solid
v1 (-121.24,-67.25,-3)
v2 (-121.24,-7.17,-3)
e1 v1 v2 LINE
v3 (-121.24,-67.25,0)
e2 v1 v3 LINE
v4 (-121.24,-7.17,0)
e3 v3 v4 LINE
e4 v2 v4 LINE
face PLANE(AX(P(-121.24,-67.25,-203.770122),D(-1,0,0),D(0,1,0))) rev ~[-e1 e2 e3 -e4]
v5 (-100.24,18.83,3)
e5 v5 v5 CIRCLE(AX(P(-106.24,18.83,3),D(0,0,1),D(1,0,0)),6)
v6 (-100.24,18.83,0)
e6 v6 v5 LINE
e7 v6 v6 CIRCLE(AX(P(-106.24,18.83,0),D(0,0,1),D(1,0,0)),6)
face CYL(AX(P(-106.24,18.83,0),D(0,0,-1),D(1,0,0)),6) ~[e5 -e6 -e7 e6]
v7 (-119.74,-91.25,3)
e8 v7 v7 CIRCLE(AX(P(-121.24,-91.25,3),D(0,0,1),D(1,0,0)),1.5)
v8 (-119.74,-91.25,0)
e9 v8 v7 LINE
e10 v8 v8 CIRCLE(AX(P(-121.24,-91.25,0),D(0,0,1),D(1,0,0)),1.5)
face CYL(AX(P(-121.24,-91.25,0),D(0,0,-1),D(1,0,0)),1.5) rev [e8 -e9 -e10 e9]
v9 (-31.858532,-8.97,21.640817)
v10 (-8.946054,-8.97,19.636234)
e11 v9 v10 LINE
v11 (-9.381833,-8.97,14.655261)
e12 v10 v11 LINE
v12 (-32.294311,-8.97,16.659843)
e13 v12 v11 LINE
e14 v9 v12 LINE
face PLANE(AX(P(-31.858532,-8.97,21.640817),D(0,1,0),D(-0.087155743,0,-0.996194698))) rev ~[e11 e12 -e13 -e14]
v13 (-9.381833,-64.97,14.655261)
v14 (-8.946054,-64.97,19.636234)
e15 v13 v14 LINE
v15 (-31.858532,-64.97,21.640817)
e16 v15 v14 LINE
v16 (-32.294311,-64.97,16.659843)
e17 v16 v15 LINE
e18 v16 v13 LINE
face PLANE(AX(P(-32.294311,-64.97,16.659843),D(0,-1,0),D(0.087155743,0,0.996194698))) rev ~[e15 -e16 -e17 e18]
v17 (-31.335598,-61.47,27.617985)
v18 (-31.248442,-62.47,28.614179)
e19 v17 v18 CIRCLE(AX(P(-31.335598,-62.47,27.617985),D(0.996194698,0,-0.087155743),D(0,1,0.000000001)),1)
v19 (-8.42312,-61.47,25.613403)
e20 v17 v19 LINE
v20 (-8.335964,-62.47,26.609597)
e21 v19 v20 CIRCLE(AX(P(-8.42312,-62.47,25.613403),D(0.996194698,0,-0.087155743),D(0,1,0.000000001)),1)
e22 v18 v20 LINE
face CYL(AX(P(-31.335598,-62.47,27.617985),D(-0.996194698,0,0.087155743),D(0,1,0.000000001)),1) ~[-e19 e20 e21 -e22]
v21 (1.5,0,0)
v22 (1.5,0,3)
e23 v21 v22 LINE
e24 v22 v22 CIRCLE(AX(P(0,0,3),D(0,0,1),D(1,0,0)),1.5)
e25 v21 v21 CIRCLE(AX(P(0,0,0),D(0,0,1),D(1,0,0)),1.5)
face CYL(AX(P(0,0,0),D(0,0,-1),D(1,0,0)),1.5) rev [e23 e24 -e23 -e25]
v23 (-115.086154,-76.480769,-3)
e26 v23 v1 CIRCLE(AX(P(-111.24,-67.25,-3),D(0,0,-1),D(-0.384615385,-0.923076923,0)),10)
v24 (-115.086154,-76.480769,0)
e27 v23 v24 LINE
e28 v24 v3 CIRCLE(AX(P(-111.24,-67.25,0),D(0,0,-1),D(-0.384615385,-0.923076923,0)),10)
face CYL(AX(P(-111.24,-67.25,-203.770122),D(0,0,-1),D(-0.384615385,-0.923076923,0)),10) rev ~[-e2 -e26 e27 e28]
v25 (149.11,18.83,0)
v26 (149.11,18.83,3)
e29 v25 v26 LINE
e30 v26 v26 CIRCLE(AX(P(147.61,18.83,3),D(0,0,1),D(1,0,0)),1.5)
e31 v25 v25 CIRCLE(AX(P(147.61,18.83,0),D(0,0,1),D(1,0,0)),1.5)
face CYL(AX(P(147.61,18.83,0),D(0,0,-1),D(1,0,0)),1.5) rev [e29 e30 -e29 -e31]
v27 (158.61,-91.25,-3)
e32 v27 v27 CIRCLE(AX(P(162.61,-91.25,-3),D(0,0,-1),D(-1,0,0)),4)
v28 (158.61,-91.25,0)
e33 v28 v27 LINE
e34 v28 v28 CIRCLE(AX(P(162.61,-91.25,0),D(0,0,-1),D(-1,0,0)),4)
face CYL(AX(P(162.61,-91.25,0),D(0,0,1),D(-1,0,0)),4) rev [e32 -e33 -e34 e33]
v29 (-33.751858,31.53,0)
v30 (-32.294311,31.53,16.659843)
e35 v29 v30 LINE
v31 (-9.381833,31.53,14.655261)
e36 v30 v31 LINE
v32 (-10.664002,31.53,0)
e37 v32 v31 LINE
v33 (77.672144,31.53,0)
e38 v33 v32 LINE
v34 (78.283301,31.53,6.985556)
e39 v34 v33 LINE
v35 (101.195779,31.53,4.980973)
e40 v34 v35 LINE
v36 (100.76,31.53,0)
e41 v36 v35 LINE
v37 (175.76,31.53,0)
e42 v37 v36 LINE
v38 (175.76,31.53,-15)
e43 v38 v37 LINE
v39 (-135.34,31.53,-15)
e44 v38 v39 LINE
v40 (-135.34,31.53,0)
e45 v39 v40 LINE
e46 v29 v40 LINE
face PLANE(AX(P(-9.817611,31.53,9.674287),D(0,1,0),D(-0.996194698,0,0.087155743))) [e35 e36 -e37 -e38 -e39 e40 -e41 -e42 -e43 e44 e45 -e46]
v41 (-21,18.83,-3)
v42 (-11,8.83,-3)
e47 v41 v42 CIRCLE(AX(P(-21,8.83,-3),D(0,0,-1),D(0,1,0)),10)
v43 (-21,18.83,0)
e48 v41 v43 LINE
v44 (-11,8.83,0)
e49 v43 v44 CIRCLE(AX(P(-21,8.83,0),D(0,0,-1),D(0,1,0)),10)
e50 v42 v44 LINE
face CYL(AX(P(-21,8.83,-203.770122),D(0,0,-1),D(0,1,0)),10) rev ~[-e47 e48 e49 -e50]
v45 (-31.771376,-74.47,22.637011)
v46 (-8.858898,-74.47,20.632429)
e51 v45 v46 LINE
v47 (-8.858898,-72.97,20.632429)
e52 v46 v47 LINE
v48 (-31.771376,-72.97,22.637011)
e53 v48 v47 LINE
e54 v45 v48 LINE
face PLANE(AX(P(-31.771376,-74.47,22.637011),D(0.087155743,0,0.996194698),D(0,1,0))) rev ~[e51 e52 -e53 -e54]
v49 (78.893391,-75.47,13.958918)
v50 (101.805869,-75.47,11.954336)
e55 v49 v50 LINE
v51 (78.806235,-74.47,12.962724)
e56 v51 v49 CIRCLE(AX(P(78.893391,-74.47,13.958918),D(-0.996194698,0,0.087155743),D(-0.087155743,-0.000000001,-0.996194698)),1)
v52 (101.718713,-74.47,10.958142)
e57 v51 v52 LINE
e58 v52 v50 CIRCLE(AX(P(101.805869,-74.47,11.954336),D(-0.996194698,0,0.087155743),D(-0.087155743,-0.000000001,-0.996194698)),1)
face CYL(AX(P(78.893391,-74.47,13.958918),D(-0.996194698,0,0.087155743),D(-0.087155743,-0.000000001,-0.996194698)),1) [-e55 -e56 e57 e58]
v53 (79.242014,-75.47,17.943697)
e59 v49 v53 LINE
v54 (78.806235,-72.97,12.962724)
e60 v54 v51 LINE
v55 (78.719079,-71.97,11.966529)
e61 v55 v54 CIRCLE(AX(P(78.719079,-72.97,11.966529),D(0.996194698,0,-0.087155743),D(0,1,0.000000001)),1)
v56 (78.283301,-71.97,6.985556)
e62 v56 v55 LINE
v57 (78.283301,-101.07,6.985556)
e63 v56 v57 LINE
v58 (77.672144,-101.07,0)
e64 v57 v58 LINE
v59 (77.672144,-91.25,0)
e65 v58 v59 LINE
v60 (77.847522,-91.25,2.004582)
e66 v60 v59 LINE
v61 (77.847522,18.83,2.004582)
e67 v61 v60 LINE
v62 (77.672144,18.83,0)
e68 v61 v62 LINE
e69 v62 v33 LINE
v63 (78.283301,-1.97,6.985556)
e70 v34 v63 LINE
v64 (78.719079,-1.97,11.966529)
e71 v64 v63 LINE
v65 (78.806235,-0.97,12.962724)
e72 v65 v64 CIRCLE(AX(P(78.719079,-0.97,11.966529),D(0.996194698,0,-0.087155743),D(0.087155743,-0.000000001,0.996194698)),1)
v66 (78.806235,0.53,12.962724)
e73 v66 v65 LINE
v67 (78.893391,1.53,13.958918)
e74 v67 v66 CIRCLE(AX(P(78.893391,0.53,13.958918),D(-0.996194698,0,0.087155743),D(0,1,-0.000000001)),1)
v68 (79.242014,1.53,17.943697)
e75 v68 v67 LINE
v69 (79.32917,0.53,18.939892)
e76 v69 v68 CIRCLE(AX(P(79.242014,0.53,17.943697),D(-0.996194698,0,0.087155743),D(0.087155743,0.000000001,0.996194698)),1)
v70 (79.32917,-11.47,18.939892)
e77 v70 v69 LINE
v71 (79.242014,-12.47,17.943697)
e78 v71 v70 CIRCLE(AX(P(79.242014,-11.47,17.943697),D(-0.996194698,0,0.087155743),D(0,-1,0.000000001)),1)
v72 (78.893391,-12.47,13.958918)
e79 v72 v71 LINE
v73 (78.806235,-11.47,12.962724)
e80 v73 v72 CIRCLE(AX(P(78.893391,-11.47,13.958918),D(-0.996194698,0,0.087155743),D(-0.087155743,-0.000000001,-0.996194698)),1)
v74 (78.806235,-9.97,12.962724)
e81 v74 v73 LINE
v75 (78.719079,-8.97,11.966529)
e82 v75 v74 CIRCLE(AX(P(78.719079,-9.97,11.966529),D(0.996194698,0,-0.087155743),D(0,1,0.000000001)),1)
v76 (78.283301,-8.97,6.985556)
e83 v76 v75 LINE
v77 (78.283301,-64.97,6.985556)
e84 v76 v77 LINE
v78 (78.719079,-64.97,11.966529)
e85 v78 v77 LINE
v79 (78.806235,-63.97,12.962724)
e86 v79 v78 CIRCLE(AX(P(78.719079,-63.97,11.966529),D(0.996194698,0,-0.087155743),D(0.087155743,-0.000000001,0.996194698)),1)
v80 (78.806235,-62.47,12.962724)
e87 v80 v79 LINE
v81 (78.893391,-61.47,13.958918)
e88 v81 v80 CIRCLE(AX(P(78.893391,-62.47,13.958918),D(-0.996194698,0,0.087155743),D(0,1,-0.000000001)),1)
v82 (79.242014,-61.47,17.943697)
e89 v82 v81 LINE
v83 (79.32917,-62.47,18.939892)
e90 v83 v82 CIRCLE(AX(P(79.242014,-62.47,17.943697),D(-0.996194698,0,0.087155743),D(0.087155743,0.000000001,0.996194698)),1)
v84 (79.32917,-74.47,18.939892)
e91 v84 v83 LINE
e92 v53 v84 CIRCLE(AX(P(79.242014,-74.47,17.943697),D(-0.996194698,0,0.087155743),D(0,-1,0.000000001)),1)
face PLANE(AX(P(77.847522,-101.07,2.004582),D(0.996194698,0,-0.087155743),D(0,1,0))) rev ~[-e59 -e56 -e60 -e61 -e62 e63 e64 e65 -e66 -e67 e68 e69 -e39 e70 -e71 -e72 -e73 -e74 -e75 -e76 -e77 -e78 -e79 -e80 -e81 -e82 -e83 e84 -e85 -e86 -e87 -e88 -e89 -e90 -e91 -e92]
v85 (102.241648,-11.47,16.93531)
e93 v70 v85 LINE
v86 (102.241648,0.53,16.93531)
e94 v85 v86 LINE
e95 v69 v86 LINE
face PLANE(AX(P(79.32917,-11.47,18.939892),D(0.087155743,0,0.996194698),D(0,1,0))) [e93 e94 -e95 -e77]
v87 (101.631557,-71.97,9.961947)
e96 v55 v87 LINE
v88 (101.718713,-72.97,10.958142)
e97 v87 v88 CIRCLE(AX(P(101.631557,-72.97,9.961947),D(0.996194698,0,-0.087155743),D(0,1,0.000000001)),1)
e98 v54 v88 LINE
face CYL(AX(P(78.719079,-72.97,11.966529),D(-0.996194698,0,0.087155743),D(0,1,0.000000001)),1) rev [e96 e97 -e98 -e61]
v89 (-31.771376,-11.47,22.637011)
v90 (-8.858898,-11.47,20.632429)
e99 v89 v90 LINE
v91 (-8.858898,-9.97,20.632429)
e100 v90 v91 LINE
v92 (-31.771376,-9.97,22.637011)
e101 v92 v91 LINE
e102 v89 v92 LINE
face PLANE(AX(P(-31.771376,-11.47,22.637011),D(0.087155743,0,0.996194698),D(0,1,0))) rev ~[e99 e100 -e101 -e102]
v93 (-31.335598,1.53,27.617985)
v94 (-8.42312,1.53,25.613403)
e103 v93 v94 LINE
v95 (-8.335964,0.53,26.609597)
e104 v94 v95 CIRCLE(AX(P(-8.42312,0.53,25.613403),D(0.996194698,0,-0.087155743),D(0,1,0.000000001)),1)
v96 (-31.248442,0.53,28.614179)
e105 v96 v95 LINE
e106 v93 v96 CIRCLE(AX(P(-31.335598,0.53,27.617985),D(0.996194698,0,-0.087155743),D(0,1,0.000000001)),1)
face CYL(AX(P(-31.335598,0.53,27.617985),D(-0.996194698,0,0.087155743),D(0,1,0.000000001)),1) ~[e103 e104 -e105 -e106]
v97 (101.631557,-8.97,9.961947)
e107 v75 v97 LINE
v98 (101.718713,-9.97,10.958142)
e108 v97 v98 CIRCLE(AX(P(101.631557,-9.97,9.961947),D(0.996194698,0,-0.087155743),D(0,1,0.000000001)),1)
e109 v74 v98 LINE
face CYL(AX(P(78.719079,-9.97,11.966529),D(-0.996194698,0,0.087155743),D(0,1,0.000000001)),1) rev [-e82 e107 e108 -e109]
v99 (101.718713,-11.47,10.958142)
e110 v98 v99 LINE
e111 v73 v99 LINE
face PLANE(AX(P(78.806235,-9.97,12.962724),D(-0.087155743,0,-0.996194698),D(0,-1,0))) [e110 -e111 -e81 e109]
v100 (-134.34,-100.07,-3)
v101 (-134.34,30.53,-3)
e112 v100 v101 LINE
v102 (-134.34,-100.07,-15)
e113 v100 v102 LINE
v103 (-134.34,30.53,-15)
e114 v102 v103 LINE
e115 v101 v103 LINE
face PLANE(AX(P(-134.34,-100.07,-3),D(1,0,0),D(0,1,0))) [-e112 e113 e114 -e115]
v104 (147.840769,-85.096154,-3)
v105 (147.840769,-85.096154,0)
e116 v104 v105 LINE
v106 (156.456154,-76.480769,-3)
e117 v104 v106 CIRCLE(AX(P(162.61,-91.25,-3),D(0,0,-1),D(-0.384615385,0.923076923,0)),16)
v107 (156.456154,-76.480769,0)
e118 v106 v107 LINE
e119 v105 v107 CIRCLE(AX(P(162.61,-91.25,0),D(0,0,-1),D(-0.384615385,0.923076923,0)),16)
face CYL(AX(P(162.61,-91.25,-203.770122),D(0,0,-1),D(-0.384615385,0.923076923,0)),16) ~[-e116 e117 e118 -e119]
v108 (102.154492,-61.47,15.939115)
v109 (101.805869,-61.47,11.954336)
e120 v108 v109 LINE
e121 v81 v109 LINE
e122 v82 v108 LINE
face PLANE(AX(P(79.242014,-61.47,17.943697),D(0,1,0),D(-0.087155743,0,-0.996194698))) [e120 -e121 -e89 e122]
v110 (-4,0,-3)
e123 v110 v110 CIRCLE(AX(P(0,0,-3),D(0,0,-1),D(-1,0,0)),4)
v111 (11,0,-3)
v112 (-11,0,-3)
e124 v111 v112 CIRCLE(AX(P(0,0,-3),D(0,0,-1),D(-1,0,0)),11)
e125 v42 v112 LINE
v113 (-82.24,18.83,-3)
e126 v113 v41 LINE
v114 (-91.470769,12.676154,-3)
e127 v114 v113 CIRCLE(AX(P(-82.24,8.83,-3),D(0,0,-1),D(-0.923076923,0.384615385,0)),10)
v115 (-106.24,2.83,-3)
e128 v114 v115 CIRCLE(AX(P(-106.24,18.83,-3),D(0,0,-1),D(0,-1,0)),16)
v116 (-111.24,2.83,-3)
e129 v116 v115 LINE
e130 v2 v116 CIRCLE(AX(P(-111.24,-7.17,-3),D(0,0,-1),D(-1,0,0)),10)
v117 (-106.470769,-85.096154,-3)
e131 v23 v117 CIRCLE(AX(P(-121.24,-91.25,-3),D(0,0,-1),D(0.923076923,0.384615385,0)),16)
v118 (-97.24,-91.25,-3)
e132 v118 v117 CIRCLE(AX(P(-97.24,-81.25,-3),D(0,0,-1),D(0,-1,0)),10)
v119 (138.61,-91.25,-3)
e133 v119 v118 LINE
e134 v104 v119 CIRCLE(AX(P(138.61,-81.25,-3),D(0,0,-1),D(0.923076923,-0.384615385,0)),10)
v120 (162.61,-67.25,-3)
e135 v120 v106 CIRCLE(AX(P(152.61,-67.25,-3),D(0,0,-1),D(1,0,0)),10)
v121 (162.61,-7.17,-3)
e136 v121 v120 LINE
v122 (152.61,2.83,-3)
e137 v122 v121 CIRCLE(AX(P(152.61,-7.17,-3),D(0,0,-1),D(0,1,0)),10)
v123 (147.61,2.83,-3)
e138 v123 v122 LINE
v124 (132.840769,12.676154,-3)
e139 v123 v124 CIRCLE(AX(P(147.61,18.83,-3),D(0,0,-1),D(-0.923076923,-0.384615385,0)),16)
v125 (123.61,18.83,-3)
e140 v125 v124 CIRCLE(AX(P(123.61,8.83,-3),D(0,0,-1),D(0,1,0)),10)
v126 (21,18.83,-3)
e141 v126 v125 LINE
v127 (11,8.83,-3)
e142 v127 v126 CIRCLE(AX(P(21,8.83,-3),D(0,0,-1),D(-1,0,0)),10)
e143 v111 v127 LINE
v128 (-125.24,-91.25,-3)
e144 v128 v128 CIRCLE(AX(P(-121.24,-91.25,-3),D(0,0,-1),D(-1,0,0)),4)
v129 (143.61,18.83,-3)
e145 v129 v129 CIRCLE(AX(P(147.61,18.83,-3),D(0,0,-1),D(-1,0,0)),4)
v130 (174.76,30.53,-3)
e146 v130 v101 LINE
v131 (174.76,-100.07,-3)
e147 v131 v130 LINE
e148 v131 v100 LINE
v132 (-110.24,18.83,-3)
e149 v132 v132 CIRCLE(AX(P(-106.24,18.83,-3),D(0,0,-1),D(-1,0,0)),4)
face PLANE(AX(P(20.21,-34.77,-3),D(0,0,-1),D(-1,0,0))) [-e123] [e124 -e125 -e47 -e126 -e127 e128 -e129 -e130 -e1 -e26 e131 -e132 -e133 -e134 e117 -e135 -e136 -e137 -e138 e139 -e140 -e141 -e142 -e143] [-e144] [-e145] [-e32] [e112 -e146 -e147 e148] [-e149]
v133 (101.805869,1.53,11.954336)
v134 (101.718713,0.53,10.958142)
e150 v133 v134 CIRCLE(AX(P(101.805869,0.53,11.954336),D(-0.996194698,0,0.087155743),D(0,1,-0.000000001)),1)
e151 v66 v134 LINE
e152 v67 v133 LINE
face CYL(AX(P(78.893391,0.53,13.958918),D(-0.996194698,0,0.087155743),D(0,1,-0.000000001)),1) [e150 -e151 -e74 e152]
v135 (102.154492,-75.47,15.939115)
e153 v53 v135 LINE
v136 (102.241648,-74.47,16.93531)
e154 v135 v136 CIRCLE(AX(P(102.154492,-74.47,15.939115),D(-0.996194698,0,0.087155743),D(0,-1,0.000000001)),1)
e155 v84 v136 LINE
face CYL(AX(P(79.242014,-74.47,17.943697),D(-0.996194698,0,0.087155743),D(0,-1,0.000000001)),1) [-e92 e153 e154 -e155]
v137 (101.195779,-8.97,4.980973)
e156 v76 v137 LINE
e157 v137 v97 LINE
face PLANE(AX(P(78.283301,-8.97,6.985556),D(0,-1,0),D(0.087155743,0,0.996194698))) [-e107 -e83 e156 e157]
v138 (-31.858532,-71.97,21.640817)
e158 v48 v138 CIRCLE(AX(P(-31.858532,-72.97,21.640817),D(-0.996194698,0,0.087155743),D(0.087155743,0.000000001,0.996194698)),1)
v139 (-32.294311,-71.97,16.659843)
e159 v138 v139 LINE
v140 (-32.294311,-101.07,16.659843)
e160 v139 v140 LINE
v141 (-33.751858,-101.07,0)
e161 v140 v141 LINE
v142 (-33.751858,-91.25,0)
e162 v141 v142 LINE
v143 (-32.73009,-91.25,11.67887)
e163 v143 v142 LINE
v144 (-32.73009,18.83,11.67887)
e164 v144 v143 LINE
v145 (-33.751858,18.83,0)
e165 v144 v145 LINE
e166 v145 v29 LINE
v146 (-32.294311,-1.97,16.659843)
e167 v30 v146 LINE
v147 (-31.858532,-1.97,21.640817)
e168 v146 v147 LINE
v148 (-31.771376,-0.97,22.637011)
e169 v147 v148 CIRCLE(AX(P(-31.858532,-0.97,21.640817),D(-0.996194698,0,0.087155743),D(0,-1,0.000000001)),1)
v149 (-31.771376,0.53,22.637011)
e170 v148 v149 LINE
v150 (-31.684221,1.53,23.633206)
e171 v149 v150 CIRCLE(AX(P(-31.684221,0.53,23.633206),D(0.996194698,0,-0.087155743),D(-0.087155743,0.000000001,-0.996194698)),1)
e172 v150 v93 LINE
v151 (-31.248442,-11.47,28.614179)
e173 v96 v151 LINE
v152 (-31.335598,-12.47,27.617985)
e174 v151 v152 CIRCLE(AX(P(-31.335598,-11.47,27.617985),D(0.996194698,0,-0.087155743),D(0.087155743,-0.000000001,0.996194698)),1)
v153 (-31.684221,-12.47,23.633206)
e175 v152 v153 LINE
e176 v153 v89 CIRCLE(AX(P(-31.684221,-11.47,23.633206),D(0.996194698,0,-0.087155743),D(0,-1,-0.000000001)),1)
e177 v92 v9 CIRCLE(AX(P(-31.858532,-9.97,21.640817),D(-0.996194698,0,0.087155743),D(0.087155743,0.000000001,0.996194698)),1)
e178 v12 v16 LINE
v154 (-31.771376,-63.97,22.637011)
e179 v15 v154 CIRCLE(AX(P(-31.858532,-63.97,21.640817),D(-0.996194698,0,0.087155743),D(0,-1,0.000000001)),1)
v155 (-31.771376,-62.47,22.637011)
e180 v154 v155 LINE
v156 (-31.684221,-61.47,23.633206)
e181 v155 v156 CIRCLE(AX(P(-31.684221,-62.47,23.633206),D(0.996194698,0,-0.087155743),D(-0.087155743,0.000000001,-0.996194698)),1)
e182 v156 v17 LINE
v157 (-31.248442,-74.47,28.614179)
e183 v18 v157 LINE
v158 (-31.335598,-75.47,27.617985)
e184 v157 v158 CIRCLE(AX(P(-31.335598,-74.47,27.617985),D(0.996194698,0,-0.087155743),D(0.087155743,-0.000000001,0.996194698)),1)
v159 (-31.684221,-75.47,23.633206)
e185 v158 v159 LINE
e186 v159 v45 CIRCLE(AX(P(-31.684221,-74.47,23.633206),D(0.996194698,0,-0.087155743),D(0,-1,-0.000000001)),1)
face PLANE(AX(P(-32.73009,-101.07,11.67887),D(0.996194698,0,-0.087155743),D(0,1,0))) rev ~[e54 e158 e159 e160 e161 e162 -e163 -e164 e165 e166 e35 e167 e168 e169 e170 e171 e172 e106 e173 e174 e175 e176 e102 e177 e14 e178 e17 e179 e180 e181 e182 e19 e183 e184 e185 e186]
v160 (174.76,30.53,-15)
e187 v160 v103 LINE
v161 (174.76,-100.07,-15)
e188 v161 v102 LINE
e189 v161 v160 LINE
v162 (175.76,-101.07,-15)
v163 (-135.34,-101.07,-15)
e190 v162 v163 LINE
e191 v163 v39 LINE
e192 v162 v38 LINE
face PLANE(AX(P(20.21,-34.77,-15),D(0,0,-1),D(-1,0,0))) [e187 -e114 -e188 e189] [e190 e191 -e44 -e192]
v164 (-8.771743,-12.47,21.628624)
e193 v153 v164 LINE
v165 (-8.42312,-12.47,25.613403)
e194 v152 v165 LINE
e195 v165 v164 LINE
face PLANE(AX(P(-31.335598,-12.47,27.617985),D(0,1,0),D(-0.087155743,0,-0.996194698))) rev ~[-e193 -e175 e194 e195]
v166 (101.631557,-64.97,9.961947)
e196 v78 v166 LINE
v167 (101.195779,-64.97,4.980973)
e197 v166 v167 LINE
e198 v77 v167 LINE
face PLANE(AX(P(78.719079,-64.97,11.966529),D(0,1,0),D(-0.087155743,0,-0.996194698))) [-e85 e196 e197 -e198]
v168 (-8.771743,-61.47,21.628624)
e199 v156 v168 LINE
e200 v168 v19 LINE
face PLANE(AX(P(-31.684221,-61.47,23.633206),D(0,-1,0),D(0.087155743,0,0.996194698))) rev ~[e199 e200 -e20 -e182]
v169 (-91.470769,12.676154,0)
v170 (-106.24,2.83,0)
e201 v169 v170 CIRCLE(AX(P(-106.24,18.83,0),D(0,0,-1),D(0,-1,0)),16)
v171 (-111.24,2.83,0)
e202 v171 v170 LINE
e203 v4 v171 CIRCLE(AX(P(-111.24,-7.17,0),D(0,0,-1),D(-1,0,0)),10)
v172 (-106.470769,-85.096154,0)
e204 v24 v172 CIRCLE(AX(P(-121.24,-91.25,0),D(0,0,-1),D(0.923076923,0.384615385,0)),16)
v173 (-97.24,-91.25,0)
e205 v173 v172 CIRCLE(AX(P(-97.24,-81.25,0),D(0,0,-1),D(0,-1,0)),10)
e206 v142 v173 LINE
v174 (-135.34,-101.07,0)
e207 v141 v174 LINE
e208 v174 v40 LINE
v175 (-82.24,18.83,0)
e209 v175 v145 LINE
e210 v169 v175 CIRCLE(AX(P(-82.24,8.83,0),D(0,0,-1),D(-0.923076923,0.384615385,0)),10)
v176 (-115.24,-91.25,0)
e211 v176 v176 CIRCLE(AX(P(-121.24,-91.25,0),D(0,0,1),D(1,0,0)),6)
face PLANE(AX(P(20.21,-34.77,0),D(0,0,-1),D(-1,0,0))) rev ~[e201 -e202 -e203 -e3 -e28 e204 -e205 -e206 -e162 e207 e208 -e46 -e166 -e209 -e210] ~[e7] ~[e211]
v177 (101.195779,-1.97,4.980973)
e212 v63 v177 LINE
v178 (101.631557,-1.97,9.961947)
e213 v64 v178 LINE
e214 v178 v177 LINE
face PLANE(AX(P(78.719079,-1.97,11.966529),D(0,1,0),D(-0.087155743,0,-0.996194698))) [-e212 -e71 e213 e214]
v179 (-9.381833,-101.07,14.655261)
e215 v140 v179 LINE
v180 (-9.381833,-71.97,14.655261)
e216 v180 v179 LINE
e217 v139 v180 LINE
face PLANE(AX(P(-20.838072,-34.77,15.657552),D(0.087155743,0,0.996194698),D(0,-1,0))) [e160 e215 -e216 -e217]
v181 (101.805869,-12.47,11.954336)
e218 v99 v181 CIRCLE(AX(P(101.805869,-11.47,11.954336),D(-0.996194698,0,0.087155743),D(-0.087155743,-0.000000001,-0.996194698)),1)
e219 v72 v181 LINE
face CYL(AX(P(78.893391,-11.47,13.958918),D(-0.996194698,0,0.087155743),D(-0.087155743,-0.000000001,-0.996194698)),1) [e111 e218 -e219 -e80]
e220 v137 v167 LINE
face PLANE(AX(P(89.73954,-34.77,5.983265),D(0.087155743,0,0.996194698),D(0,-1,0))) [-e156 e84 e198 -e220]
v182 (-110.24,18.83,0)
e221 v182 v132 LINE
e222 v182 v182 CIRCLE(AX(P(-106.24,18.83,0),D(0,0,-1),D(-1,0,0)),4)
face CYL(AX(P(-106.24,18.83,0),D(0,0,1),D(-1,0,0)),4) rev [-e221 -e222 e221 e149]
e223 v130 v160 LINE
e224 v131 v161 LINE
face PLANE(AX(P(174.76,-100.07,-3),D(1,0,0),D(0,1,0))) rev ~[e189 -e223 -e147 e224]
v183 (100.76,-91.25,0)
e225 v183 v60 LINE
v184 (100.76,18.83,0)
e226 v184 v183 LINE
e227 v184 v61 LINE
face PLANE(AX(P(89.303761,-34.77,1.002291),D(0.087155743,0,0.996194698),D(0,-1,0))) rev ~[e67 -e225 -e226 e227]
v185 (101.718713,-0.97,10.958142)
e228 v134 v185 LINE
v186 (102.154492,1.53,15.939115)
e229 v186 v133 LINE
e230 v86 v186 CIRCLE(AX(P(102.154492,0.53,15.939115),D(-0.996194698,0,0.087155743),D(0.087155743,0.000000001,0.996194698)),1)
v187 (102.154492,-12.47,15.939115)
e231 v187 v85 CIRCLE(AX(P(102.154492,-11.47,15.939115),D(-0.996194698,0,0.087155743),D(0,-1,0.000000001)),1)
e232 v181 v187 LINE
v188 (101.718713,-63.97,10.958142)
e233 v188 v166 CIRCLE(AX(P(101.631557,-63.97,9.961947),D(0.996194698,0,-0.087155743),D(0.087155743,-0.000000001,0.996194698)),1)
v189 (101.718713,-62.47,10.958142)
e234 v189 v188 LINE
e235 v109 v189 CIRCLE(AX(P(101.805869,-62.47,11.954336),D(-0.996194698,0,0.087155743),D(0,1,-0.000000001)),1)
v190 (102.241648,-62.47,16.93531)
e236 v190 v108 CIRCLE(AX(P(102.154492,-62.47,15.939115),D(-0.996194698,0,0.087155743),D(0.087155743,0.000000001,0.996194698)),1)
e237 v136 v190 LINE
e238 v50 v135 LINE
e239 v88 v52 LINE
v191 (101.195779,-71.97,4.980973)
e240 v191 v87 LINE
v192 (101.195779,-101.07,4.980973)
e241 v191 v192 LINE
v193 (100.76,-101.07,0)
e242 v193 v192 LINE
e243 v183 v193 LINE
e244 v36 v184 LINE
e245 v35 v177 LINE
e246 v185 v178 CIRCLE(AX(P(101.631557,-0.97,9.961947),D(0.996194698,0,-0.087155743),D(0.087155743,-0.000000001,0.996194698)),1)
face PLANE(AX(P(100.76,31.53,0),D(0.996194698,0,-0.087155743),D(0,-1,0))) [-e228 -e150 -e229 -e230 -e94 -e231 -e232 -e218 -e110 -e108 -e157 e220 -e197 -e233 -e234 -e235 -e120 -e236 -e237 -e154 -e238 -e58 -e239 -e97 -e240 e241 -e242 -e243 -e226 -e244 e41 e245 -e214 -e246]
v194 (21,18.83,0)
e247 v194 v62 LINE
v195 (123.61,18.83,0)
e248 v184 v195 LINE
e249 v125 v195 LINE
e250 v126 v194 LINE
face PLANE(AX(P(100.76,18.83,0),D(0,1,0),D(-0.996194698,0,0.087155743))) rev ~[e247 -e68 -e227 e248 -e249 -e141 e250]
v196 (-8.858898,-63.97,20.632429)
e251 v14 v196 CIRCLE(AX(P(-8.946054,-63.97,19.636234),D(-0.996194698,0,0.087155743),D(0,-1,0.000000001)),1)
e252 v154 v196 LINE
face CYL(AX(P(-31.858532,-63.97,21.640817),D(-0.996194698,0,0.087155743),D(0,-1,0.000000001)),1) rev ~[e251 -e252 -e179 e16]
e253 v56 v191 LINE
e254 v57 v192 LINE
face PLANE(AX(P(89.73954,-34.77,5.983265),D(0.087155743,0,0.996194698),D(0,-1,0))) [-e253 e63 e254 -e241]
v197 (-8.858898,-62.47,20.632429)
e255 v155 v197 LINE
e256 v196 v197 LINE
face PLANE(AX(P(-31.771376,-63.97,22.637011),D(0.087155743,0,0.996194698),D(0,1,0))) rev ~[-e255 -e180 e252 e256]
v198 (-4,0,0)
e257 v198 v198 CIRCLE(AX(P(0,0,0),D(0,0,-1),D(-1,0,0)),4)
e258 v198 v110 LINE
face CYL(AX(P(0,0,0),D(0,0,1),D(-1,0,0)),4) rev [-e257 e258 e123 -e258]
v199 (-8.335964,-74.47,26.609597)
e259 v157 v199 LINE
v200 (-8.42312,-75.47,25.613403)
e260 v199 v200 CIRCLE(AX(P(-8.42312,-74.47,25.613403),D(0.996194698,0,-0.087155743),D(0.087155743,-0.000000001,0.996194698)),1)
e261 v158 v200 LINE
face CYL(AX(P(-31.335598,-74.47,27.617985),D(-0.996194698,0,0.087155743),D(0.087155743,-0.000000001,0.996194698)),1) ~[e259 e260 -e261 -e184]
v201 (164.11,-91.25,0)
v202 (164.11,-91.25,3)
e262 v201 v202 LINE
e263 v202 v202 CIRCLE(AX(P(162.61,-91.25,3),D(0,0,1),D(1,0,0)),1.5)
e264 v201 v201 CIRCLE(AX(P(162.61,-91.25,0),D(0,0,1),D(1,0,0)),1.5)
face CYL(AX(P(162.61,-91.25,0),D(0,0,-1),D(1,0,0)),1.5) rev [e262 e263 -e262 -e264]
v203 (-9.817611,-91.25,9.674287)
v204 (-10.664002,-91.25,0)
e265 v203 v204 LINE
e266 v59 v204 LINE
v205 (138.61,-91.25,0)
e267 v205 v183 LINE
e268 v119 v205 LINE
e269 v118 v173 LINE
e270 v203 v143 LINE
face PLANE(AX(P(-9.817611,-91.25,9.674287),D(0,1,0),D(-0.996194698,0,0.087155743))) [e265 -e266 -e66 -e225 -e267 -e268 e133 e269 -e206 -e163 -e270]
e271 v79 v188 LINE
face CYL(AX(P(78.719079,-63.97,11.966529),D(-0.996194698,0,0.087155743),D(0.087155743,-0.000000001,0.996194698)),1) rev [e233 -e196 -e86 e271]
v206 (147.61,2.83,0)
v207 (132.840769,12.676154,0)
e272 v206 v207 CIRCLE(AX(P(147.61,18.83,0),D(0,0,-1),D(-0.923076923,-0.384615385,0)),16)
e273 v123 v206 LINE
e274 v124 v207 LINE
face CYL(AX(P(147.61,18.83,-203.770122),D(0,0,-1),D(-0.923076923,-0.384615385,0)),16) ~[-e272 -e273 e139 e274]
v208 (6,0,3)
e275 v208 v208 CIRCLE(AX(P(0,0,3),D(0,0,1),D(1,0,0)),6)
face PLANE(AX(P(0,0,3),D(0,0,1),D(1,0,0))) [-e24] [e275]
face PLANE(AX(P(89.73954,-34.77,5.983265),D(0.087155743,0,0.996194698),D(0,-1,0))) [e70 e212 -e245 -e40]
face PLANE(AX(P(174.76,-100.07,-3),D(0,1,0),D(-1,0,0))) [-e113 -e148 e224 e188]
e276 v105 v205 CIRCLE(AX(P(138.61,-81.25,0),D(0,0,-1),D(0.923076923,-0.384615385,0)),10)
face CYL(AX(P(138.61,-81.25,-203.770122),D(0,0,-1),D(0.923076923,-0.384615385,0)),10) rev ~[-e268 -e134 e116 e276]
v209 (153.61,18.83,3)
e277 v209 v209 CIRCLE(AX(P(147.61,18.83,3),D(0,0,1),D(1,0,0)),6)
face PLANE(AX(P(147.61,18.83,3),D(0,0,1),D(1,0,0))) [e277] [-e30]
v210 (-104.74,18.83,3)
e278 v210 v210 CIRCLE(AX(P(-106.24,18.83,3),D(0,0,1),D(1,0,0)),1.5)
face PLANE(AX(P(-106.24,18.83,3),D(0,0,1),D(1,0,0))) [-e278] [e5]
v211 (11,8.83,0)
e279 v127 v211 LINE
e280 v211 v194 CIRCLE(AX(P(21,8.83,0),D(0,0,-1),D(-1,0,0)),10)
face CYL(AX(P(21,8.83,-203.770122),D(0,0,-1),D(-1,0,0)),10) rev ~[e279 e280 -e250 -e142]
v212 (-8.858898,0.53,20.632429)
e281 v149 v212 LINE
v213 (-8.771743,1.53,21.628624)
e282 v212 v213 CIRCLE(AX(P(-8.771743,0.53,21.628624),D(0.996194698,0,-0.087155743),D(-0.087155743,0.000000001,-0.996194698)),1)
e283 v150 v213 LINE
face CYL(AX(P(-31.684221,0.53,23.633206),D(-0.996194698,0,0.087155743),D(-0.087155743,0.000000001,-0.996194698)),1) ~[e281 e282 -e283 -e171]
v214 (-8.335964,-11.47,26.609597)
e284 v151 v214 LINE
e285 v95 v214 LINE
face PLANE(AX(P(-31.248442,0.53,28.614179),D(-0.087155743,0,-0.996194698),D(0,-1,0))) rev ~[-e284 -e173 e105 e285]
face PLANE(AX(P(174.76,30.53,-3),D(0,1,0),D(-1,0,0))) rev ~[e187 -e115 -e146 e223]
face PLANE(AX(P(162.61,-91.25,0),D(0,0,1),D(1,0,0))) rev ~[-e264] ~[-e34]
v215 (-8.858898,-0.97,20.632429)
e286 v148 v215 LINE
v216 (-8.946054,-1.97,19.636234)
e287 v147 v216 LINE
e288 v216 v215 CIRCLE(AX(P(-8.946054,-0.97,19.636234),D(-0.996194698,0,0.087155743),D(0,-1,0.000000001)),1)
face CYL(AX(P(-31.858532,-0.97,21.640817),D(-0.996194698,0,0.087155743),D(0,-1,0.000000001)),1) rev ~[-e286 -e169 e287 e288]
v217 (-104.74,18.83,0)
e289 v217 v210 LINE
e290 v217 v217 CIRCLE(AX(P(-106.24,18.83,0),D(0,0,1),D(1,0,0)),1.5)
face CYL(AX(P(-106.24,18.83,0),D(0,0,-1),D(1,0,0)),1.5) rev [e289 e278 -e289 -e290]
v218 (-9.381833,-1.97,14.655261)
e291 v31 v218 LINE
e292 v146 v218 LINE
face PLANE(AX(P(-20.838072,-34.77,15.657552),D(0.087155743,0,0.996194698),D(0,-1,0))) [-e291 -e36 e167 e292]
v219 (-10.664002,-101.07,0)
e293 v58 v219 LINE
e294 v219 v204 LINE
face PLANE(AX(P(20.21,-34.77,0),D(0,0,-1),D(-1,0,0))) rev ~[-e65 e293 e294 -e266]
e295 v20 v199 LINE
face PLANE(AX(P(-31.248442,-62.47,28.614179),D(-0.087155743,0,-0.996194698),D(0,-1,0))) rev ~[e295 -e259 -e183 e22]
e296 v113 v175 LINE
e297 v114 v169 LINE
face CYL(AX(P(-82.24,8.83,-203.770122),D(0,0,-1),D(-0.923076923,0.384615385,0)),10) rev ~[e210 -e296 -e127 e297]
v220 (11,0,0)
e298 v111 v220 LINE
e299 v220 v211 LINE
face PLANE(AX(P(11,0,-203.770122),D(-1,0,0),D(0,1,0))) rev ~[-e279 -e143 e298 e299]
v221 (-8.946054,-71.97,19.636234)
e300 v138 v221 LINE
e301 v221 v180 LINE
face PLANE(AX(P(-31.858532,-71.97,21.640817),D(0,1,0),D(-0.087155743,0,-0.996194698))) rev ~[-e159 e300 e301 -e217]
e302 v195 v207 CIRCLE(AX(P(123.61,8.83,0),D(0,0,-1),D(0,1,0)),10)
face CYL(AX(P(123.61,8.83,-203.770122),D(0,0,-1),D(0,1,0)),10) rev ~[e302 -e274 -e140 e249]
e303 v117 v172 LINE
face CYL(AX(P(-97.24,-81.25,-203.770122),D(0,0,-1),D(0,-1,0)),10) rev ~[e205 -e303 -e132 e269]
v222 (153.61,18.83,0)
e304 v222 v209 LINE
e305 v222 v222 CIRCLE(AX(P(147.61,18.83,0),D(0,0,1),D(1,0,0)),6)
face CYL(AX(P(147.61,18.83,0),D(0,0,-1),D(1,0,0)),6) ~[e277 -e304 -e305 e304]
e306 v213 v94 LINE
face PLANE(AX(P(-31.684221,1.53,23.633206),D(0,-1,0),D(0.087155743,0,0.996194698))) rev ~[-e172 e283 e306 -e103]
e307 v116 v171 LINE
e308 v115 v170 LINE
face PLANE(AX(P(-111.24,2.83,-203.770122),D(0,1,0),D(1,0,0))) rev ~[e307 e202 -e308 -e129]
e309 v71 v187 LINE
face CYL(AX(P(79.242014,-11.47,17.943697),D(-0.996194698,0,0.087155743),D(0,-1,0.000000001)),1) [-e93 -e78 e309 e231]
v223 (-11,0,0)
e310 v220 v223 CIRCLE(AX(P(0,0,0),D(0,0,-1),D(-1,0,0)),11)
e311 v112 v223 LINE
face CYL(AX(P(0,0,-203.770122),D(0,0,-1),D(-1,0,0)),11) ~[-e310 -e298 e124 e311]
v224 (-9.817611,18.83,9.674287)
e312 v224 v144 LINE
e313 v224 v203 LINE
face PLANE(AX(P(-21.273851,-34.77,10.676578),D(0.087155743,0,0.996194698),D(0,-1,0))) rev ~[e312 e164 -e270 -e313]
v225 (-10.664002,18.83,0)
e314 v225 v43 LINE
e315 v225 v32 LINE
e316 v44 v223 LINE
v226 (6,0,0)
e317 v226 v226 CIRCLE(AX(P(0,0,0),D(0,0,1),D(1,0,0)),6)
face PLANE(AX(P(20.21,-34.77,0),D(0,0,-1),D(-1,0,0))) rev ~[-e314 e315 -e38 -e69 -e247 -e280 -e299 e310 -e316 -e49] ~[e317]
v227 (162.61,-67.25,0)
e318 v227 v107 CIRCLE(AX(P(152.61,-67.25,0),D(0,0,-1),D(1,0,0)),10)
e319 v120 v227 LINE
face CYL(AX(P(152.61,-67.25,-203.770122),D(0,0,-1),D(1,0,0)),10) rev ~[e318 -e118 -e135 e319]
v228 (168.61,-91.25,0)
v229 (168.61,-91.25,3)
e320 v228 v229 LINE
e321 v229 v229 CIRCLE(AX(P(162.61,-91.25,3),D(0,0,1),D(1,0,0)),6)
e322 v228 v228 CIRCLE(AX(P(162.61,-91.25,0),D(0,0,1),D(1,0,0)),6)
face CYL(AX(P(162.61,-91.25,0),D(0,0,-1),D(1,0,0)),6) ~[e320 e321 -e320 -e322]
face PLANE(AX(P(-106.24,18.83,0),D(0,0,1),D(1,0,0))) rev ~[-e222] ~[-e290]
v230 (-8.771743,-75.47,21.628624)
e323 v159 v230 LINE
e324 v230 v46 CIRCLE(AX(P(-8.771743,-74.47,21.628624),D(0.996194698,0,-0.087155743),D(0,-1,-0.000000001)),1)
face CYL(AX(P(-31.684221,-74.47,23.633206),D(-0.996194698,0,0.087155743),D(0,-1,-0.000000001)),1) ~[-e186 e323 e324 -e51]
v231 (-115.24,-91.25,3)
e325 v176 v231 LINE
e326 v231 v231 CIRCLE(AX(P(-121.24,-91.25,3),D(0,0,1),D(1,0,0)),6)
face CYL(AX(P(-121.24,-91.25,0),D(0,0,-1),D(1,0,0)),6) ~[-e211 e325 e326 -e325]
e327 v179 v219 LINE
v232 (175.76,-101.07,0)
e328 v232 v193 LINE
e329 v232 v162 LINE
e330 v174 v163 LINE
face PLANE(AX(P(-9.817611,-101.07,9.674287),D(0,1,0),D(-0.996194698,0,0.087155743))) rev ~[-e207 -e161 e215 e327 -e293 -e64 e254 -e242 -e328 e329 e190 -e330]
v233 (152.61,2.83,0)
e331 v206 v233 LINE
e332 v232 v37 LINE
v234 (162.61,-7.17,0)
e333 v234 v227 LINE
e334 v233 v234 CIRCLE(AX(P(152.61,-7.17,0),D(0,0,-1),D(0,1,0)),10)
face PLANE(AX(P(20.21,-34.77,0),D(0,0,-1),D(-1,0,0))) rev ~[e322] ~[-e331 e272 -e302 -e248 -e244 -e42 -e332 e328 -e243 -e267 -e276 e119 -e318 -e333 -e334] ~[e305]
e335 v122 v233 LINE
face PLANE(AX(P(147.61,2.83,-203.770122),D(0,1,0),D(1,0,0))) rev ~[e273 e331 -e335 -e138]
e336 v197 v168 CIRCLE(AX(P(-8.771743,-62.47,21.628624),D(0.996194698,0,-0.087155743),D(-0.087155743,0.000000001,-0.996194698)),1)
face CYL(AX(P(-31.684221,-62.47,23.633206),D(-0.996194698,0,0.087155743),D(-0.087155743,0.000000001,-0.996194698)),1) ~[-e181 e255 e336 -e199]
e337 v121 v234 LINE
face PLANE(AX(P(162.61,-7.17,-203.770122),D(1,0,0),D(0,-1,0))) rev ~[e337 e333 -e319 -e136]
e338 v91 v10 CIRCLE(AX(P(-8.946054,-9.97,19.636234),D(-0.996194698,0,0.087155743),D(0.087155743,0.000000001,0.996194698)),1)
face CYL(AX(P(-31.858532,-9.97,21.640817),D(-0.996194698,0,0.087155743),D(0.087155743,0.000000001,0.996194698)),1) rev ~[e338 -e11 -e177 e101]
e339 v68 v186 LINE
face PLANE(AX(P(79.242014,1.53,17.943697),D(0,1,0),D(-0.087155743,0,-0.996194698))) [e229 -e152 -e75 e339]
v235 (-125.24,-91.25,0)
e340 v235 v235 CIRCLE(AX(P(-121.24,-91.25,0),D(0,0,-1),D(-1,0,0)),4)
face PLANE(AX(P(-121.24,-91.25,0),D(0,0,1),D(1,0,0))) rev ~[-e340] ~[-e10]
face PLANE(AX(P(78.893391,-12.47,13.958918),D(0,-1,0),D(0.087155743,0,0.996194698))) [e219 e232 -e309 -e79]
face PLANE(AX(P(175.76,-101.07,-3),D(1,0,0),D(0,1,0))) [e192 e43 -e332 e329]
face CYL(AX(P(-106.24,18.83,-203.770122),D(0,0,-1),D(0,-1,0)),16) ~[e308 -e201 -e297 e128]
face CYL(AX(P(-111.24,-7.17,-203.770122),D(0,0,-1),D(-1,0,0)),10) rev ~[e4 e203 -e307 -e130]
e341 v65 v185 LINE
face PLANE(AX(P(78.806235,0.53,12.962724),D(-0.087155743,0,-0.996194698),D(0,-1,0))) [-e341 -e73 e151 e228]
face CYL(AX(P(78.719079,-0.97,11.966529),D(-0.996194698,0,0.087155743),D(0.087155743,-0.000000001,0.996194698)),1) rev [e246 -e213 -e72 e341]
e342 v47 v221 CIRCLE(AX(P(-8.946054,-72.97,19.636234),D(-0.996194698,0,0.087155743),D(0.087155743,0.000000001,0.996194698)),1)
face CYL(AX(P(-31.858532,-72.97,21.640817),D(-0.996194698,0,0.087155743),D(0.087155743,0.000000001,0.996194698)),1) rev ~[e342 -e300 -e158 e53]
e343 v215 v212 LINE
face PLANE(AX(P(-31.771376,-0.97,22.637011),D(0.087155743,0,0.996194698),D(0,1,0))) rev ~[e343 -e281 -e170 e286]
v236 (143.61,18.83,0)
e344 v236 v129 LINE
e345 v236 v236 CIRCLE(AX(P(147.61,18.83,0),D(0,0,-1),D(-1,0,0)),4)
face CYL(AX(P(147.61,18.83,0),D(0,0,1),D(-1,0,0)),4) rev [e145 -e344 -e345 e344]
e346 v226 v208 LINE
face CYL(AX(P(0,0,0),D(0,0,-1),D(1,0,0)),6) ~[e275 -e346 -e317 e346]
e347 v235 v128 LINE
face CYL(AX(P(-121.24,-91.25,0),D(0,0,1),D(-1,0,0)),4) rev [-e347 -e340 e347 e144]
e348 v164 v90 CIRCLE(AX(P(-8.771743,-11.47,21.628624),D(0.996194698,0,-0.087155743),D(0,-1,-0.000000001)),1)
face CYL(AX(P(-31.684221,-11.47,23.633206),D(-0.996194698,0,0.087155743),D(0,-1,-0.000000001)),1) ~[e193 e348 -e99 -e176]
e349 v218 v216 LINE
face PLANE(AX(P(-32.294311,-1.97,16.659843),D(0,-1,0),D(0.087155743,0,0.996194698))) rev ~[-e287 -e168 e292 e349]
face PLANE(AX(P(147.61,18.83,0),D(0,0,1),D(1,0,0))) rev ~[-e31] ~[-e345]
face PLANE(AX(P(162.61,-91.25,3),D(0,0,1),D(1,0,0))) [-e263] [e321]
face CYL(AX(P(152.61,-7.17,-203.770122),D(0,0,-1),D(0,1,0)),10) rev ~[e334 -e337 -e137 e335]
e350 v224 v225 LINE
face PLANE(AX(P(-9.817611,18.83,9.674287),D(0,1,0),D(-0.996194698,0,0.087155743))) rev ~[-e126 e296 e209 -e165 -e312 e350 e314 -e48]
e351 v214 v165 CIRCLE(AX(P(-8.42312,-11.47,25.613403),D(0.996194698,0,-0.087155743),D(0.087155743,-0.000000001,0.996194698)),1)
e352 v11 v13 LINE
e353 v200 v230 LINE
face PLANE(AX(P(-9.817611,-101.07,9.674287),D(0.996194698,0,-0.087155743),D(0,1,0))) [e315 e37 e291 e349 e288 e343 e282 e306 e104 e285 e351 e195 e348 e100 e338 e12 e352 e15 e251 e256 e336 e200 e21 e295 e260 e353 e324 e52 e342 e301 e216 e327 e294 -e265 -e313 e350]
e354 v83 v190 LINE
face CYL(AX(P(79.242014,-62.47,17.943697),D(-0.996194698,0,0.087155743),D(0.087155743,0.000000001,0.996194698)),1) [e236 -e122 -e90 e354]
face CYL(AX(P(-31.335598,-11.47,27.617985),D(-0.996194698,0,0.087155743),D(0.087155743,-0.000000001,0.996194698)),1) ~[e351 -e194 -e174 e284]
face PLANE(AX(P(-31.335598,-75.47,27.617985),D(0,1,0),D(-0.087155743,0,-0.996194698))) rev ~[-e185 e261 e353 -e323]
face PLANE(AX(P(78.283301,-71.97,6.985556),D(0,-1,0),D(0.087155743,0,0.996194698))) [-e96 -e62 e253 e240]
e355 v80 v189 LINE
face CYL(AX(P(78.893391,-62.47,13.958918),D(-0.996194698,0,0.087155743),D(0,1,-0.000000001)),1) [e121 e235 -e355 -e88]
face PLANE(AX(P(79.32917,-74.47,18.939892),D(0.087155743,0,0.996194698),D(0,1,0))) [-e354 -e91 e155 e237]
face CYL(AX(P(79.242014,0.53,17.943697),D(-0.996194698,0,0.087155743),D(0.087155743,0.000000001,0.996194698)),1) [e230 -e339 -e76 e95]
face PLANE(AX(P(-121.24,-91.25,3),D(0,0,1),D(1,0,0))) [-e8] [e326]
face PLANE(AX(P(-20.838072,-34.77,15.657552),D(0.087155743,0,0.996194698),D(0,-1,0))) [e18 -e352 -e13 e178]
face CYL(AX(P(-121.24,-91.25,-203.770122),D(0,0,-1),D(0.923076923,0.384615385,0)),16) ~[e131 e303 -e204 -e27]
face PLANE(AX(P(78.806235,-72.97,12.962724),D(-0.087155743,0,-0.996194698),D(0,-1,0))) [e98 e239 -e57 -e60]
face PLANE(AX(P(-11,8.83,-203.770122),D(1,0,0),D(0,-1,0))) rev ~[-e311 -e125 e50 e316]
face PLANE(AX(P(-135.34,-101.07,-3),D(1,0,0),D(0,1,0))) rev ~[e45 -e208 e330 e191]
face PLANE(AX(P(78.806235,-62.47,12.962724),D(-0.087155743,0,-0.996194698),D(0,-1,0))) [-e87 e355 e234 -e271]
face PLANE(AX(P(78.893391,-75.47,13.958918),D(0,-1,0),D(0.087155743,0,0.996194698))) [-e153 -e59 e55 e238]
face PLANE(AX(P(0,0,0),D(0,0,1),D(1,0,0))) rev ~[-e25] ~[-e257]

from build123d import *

# Parameters (mm, degrees)
SKETCH1_R                                     = 6
SKETCH1_R_2                                   = 1.5
DISPLAY_SCREW_PATTERN_DEPTH                   = 3
DISPLAY_SCREW_PATTERN_2_DEPTH                 = 3
DISPLAY_SCREW_PATTERN_3_DEPTH                 = 3
DISPLAY_SCREW_PATTERN_4_DEPTH                 = 3
DISPLAY_SCREW_PATTERN_5_DEPTH                 = 3
SKETCH2_W                                     = 311.1
SKETCH2_H                                     = 132.6
SKETCH2_R                                     = 4
DISPLAY_BACKPLANE_DEPTH                       = 3
BACKPLANE_WEIGHT_REDUCTION_DEPTH              = 203.770122306
BACKPLANE_WEIGHT_REDUCTION_DEPTH_BACK         = 203.770122306
SKETCH4_W                                     = 311.1
SKETCH4_H                                     = 132.6
SKETCH4_W_2                                   = 309.1
SKETCH4_H_2                                   = 130.6
DISPLAY_OUTSIDE_CRADDLE_DEPTH                 = 12
SKETCH7_W                                     = 132.6
SKETCH7_H                                     = 23
SLOT_INTERFACE_BACKING_BLOCK_DEPTH            = 5
SLOT_INTERFACE_BACKING_BLOCK_2_DEPTH          = 5
SLOT_BACKING_CONNECTION_REACH                 = 205.475
SKETCH8_W                                     = 23
SKETCH8_H                                     = 12.7
SKETCH8_H_2                                   = 9.82
SLOTS_RIGHT_IGNORE_SW_AXES_IN_THIS_PART_DEPTH = 23
SLOTS_LEFT_DEPTH                              = 23


with BuildPart() as part:
    # Sketch1 → Display screw pattern (new body)
    with BuildSketch(Plane.XY):
        Circle(SKETCH1_R)
        Circle(SKETCH1_R_2, mode=Mode.SUBTRACT)
    extrude(amount=DISPLAY_SCREW_PATTERN_DEPTH)



with BuildPart() as body_2:
    # Sketch1 → Display screw pattern 2 (new body)
    with BuildSketch(Plane.XY):
        with Locations((-106.24, 18.83)):
            Circle(SKETCH1_R)
        with Locations((-106.24, 18.83)):
            Circle(SKETCH1_R_2, mode=Mode.SUBTRACT)
    extrude(amount=DISPLAY_SCREW_PATTERN_2_DEPTH)


with BuildPart() as body_3:
    # Sketch1 → Display screw pattern 3 (new body)
    with BuildSketch(Plane.XY):
        with Locations((147.61, 18.83)):
            Circle(SKETCH1_R)
        with Locations((147.61, 18.83)):
            Circle(SKETCH1_R_2, mode=Mode.SUBTRACT)
    extrude(amount=DISPLAY_SCREW_PATTERN_3_DEPTH)


with BuildPart() as body_4:
    # Sketch1 → Display screw pattern 4 (new body)
    with BuildSketch(Plane.XY):
        with Locations((-121.24, -91.25)):
            Circle(SKETCH1_R)
        with Locations((-121.24, -91.25)):
            Circle(SKETCH1_R_2, mode=Mode.SUBTRACT)
    extrude(amount=DISPLAY_SCREW_PATTERN_4_DEPTH)


with BuildPart() as body_5:
    # Sketch1 → Display screw pattern 5 (new body)
    with BuildSketch(Plane.XY):
        with Locations((162.61, -91.25)):
            Circle(SKETCH1_R)
        with Locations((162.61, -91.25)):
            Circle(SKETCH1_R_2, mode=Mode.SUBTRACT)
    extrude(amount=DISPLAY_SCREW_PATTERN_5_DEPTH)


with BuildPart() as part_1:
    add(part.part)

    add(body_2.part)  # Display backplane merges body 2

    add(body_3.part)  # Display backplane merges body 3

    add(body_4.part)  # Display backplane merges body 4

    add(body_5.part)  # Display backplane merges body 5
    # Sketch2 → Display backplane (add)
    with BuildSketch(Plane(origin=(0, 0, 0), x_dir=(-1, 0, 0), z_dir=(0, 0, -1))):
        with Locations((-20.21, -34.77)):
            Rectangle(SKETCH2_W, SKETCH2_H)
        with Locations((106.24, 18.83)):
            Circle(SKETCH2_R, mode=Mode.SUBTRACT)
        Circle(SKETCH2_R, mode=Mode.SUBTRACT)
        with Locations((121.24, -91.25)):
            Circle(SKETCH2_R, mode=Mode.SUBTRACT)
        with Locations((-147.61, 18.83)):
            Circle(SKETCH2_R, mode=Mode.SUBTRACT)
        with Locations((-162.61, -91.25)):
            Circle(SKETCH2_R, mode=Mode.SUBTRACT)
    extrude(amount=DISPLAY_BACKPLANE_DEPTH)

    # Sketch3 → Backplane weight reduction (cut, two sides: drawn at the far end of the back side and taken through both)
    with BuildSketch(Plane.XY.offset(-BACKPLANE_WEIGHT_REDUCTION_DEPTH_BACK)):
        with BuildLine():
            Line((162.61, -7.17), (162.61, -67.25))
            ThreePointArc((162.61, -67.25), (160.930502943, -72.797001962), (156.456153846, -76.480769231))
            ThreePointArc((156.456153846, -76.480769231), (151.296291501, -79.936291501), (147.840769231, -85.096153846))
            ThreePointArc((147.840769231, -85.096153846), (144.157001962, -89.570502943), (138.61, -91.25))
            Line((138.61, -91.25), (-97.24, -91.25))
            ThreePointArc((-97.24, -91.25), (-102.787001962, -89.570502943), (-106.470769231, -85.096153846))
            ThreePointArc((-106.470769231, -85.096153846), (-109.926291501, -79.936291501), (-115.086153846, -76.480769231))
            ThreePointArc((-115.086153846, -76.480769231), (-119.560502943, -72.797001962), (-121.24, -67.25))
            Line((-121.24, -67.25), (-121.24, -7.17))
            ThreePointArc((-121.24, -7.17), (-118.311067812, -0.098932188), (-111.24, 2.83))
            Line((-111.24, 2.83), (-106.24, 2.83))
            ThreePointArc((-106.24, 2.83), (-97.36479686, 5.517195291), (-91.470769231, 12.676153846))
            ThreePointArc((-91.470769231, 12.676153846), (-87.787001962, 17.150502943), (-82.24, 18.83))
            Line((-82.24, 18.83), (-21, 18.83))
            ThreePointArc((-21, 18.83), (-13.928932188, 15.901067812), (-11, 8.83))
            Line((-11, 8.83), (-11, 0))
            ThreePointArc((-11, 0), (0, -11), (11, 0))
            Line((11, 0), (11, 8.83))
            ThreePointArc((11, 8.83), (13.928932188, 15.901067812), (21, 18.83))
            Line((21, 18.83), (123.61, 18.83))
            ThreePointArc((123.61, 18.83), (129.157001962, 17.150502943), (132.840769231, 12.676153846))
            ThreePointArc((132.840769231, 12.676153846), (138.73479686, 5.517195291), (147.61, 2.83))
            Line((147.61, 2.83), (152.61, 2.83))
            ThreePointArc((152.61, 2.83), (159.681067812, -0.098932188), (162.61, -7.17))
        make_face()
    extrude(amount=BACKPLANE_WEIGHT_REDUCTION_DEPTH + BACKPLANE_WEIGHT_REDUCTION_DEPTH_BACK, mode=Mode.SUBTRACT)

    # Sketch4 → Display outside craddle (add)
    with BuildSketch(Plane(origin=(0, 0, -3), x_dir=(-1, 0, 0), z_dir=(0, 0, -1))):
        with Locations((-20.21, -34.77)):
            Rectangle(SKETCH4_W, SKETCH4_H)
        with Locations((-20.21, -34.77)):
            Rectangle(SKETCH4_W_2, SKETCH4_H_2, mode=Mode.SUBTRACT)
    extrude(amount=DISPLAY_OUTSIDE_CRADDLE_DEPTH)

    # Sketch8 → Slot backing connection (add, up to next)
    with BuildSketch(Plane(origin=(0.765385403, 0, 8.748395191), x_dir=(-0.9961946980917455, 0, 0.08715574274765839), z_dir=(-0.08715574274765839, 0, -0.9961946980917455)), mode=Mode.PRIVATE) as slot_backing_connection_sk1:
        with Locations((-88.87657778, 25.18)):
            Rectangle(SKETCH8_W, SKETCH8_H)
    slot_backing_connection_tool1 = extrude(slot_backing_connection_sk1.sketch, amount=SLOT_BACKING_CONNECTION_REACH, mode=Mode.PRIVATE) - part_1.part
    # Sketch8 → Slot backing connection (add, up to next)
    with BuildSketch(Plane(origin=(0.765385403, 0, 8.748395191), x_dir=(-0.9961946980917455, 0, 0.08715574274765839), z_dir=(-0.08715574274765839, 0, -0.9961946980917455)), mode=Mode.PRIVATE) as slot_backing_connection_sk2:
        with Locations((-88.87657778, -96.16)):
            Rectangle(SKETCH8_W, SKETCH8_H_2)
    slot_backing_connection_tool2 = extrude(slot_backing_connection_sk2.sketch, amount=SLOT_BACKING_CONNECTION_REACH, mode=Mode.PRIVATE) - part_1.part
    # Sketch8 → Slot backing connection (add, up to next)
    with BuildSketch(Plane(origin=(0.765385403, 0, 8.748395191), x_dir=(-0.9961946980917455, 0, 0.08715574274765839), z_dir=(-0.08715574274765839, 0, -0.9961946980917455)), mode=Mode.PRIVATE) as slot_backing_connection_sk3:
        with Locations((22.12342222, 25.18)):
            Rectangle(SKETCH8_W, SKETCH8_H)
    slot_backing_connection_tool3 = extrude(slot_backing_connection_sk3.sketch, amount=SLOT_BACKING_CONNECTION_REACH, mode=Mode.PRIVATE) - part_1.part
    # Sketch8 → Slot backing connection (add, up to next)
    with BuildSketch(Plane(origin=(0.765385403, 0, 8.748395191), x_dir=(-0.9961946980917455, 0, 0.08715574274765839), z_dir=(-0.08715574274765839, 0, -0.9961946980917455)), mode=Mode.PRIVATE) as slot_backing_connection_sk4:
        with Locations((22.12342222, -96.16)):
            Rectangle(SKETCH8_W, SKETCH8_H_2)
    slot_backing_connection_tool4 = extrude(slot_backing_connection_sk4.sketch, amount=SLOT_BACKING_CONNECTION_REACH, mode=Mode.PRIVATE) - part_1.part


with BuildPart() as body_2_2:
    # Sketch7 → Slot interface backing block (new body)
    with BuildSketch(Plane(origin=(0.765385403, 0, 8.748395191), x_dir=(0, -1, 0), z_dir=(0.08715574274765836, 0, 0.9961946980917455))):
        with Locations((34.77, 88.87657778)):
            Rectangle(SKETCH7_W, SKETCH7_H)
    extrude(amount=SLOT_INTERFACE_BACKING_BLOCK_DEPTH)


with BuildPart() as body_3_2:
    # Sketch7 → Slot interface backing block 2 (new body)
    with BuildSketch(Plane(origin=(0.765385403, 0, 8.748395191), x_dir=(0, -1, 0), z_dir=(0.08715574274765836, 0, 0.9961946980917455))):
        with Locations((34.77, -22.12342222)):
            Rectangle(SKETCH7_W, SKETCH7_H)
    extrude(amount=SLOT_INTERFACE_BACKING_BLOCK_2_DEPTH)


with BuildPart() as part_2:
    add(part_1.part)

    add(body_2_2.part)  # Slot backing connection merges body 2 2

    add(body_3_2.part)  # Slot backing connection merges body 3 2
    add(slot_backing_connection_tool1.solids().sort_by_distance((89.303761, 25.18, 1.002291))[0])
    add(slot_backing_connection_tool2.solids().sort_by_distance((89.303761, -96.16, 1.002291))[0])
    add(slot_backing_connection_tool3.solids().sort_by_distance((-21.273851, 25.18, 10.676578))[0])
    add(slot_backing_connection_tool4.solids().sort_by_distance((-21.273851, -96.16, 10.676578))[0])

    # Sketch9 → Slots right (ignore SW axes in this part) (add)
    with BuildSketch(Plane(origin=(-33.495474948, 0, 2.930474337), x_dir=(0.08715574274765839, 0, 0.9961946980917455), z_dir=(-0.9961946980917455, 0, 0.08715574274765839))):
        with BuildLine():
            Line((13.781812639, -1.97), (18.781812639, -1.97))
            ThreePointArc((18.781812639, -1.97), (19.48891942, -1.677106781), (19.781812639, -0.97))
            Line((19.781812639, -0.97), (19.781812639, 0.53))
            ThreePointArc((19.781812639, 0.53), (20.074705858, 1.237106781), (20.781812639, 1.53))
            Line((20.781812639, 1.53), (24.781812639, 1.53))
            ThreePointArc((24.781812639, 1.53), (25.48891942, 1.237106781), (25.781812639, 0.53))
            Line((25.781812639, 0.53), (25.781812639, -11.47))
            ThreePointArc((25.781812639, -11.47), (25.48891942, -12.177106781), (24.781812639, -12.47))
            Line((24.781812639, -12.47), (20.781812639, -12.47))
            ThreePointArc((20.781812639, -12.47), (20.074705858, -12.177106781), (19.781812639, -11.47))
            Line((19.781812639, -11.47), (19.781812639, -9.97))
            ThreePointArc((19.781812639, -9.97), (19.48891942, -9.262893219), (18.781812639, -8.97))
            Line((18.781812639, -8.97), (13.781812639, -8.97))
            Line((13.781812639, -8.97), (13.781812639, -1.97))
        make_face()
        with BuildLine():
            Line((13.781812639, -71.97), (13.781812639, -64.97))
            Line((13.781812639, -64.97), (18.781812639, -64.97))
            ThreePointArc((18.781812639, -64.97), (19.48891942, -64.677106781), (19.781812639, -63.97))
            Line((19.781812639, -63.97), (19.781812639, -62.47))
            ThreePointArc((19.781812639, -62.47), (20.074705858, -61.762893219), (20.781812639, -61.47))
            Line((20.781812639, -61.47), (24.781812639, -61.47))
            ThreePointArc((24.781812639, -61.47), (25.48891942, -61.762893219), (25.781812639, -62.47))
            Line((25.781812639, -62.47), (25.781812639, -74.47))
            ThreePointArc((25.781812639, -74.47), (25.48891942, -75.177106781), (24.781812639, -75.47))
            Line((24.781812639, -75.47), (20.781812639, -75.47))
            ThreePointArc((20.781812639, -75.47), (20.074705858, -75.177106781), (19.781812639, -74.47))
            Line((19.781812639, -74.47), (19.781812639, -72.97))
            ThreePointArc((19.781812639, -72.97), (19.48891942, -72.262893219), (18.781812639, -71.97))
            Line((18.781812639, -71.97), (13.781812639, -71.97))
        make_face()
    extrude(amount=-SLOTS_RIGHT_IGNORE_SW_AXES_IN_THIS_PART_DEPTH)

    # Sketch10 → Slots left (add)
    with BuildSketch(Plane(origin=(77.082136541, 0, -6.743813108), x_dir=(0.08715574274765839, 0, 0.9961946980917455), z_dir=(-0.9961946980917455, 0, 0.08715574274765839))):
        with BuildLine():
            Line((19.781812639, 0.53), (19.781812639, -0.97))
            ThreePointArc((19.781812639, -0.97), (19.48891942, -1.677106781), (18.781812639, -1.97))
            Line((18.781812639, -1.97), (13.781812639, -1.97))
            Line((13.781812639, -1.97), (13.781812639, -8.97))
            Line((13.781812639, -8.97), (18.781812639, -8.97))
            ThreePointArc((18.781812639, -8.97), (19.48891942, -9.262893219), (19.781812639, -9.97))
            Line((19.781812639, -9.97), (19.781812639, -11.47))
            ThreePointArc((19.781812639, -11.47), (20.074705858, -12.177106781), (20.781812639, -12.47))
            Line((20.781812639, -12.47), (24.781812639, -12.47))
            ThreePointArc((24.781812639, -12.47), (25.48891942, -12.177106781), (25.781812639, -11.47))
            Line((25.781812639, -11.47), (25.781812639, 0.53))
            ThreePointArc((25.781812639, 0.53), (25.48891942, 1.237106781), (24.781812639, 1.53))
            Line((24.781812639, 1.53), (20.781812639, 1.53))
            ThreePointArc((20.781812639, 1.53), (20.074705858, 1.237106781), (19.781812639, 0.53))
        make_face()
        with BuildLine():
            Line((19.781812639, -62.47), (19.781812639, -63.97))
            ThreePointArc((19.781812639, -63.97), (19.48891942, -64.677106781), (18.781812639, -64.97))
            Line((18.781812639, -64.97), (13.781812639, -64.97))
            Line((13.781812639, -64.97), (13.781812639, -71.97))
            Line((13.781812639, -71.97), (18.781812639, -71.97))
            ThreePointArc((18.781812639, -71.97), (19.48891942, -72.262893219), (19.781812639, -72.97))
            Line((19.781812639, -72.97), (19.781812639, -74.47))
            ThreePointArc((19.781812639, -74.47), (20.074705858, -75.177106781), (20.781812639, -75.47))
            Line((20.781812639, -75.47), (24.781812639, -75.47))
            ThreePointArc((24.781812639, -75.47), (25.48891942, -75.177106781), (25.781812639, -74.47))
            Line((25.781812639, -74.47), (25.781812639, -62.47))
            ThreePointArc((25.781812639, -62.47), (25.48891942, -61.762893219), (24.781812639, -61.47))
            Line((24.781812639, -61.47), (20.781812639, -61.47))
            ThreePointArc((20.781812639, -61.47), (20.074705858, -61.762893219), (19.781812639, -62.47))
        make_face()
    extrude(amount=-SLOTS_LEFT_DEPTH)


solid = part_2.part
